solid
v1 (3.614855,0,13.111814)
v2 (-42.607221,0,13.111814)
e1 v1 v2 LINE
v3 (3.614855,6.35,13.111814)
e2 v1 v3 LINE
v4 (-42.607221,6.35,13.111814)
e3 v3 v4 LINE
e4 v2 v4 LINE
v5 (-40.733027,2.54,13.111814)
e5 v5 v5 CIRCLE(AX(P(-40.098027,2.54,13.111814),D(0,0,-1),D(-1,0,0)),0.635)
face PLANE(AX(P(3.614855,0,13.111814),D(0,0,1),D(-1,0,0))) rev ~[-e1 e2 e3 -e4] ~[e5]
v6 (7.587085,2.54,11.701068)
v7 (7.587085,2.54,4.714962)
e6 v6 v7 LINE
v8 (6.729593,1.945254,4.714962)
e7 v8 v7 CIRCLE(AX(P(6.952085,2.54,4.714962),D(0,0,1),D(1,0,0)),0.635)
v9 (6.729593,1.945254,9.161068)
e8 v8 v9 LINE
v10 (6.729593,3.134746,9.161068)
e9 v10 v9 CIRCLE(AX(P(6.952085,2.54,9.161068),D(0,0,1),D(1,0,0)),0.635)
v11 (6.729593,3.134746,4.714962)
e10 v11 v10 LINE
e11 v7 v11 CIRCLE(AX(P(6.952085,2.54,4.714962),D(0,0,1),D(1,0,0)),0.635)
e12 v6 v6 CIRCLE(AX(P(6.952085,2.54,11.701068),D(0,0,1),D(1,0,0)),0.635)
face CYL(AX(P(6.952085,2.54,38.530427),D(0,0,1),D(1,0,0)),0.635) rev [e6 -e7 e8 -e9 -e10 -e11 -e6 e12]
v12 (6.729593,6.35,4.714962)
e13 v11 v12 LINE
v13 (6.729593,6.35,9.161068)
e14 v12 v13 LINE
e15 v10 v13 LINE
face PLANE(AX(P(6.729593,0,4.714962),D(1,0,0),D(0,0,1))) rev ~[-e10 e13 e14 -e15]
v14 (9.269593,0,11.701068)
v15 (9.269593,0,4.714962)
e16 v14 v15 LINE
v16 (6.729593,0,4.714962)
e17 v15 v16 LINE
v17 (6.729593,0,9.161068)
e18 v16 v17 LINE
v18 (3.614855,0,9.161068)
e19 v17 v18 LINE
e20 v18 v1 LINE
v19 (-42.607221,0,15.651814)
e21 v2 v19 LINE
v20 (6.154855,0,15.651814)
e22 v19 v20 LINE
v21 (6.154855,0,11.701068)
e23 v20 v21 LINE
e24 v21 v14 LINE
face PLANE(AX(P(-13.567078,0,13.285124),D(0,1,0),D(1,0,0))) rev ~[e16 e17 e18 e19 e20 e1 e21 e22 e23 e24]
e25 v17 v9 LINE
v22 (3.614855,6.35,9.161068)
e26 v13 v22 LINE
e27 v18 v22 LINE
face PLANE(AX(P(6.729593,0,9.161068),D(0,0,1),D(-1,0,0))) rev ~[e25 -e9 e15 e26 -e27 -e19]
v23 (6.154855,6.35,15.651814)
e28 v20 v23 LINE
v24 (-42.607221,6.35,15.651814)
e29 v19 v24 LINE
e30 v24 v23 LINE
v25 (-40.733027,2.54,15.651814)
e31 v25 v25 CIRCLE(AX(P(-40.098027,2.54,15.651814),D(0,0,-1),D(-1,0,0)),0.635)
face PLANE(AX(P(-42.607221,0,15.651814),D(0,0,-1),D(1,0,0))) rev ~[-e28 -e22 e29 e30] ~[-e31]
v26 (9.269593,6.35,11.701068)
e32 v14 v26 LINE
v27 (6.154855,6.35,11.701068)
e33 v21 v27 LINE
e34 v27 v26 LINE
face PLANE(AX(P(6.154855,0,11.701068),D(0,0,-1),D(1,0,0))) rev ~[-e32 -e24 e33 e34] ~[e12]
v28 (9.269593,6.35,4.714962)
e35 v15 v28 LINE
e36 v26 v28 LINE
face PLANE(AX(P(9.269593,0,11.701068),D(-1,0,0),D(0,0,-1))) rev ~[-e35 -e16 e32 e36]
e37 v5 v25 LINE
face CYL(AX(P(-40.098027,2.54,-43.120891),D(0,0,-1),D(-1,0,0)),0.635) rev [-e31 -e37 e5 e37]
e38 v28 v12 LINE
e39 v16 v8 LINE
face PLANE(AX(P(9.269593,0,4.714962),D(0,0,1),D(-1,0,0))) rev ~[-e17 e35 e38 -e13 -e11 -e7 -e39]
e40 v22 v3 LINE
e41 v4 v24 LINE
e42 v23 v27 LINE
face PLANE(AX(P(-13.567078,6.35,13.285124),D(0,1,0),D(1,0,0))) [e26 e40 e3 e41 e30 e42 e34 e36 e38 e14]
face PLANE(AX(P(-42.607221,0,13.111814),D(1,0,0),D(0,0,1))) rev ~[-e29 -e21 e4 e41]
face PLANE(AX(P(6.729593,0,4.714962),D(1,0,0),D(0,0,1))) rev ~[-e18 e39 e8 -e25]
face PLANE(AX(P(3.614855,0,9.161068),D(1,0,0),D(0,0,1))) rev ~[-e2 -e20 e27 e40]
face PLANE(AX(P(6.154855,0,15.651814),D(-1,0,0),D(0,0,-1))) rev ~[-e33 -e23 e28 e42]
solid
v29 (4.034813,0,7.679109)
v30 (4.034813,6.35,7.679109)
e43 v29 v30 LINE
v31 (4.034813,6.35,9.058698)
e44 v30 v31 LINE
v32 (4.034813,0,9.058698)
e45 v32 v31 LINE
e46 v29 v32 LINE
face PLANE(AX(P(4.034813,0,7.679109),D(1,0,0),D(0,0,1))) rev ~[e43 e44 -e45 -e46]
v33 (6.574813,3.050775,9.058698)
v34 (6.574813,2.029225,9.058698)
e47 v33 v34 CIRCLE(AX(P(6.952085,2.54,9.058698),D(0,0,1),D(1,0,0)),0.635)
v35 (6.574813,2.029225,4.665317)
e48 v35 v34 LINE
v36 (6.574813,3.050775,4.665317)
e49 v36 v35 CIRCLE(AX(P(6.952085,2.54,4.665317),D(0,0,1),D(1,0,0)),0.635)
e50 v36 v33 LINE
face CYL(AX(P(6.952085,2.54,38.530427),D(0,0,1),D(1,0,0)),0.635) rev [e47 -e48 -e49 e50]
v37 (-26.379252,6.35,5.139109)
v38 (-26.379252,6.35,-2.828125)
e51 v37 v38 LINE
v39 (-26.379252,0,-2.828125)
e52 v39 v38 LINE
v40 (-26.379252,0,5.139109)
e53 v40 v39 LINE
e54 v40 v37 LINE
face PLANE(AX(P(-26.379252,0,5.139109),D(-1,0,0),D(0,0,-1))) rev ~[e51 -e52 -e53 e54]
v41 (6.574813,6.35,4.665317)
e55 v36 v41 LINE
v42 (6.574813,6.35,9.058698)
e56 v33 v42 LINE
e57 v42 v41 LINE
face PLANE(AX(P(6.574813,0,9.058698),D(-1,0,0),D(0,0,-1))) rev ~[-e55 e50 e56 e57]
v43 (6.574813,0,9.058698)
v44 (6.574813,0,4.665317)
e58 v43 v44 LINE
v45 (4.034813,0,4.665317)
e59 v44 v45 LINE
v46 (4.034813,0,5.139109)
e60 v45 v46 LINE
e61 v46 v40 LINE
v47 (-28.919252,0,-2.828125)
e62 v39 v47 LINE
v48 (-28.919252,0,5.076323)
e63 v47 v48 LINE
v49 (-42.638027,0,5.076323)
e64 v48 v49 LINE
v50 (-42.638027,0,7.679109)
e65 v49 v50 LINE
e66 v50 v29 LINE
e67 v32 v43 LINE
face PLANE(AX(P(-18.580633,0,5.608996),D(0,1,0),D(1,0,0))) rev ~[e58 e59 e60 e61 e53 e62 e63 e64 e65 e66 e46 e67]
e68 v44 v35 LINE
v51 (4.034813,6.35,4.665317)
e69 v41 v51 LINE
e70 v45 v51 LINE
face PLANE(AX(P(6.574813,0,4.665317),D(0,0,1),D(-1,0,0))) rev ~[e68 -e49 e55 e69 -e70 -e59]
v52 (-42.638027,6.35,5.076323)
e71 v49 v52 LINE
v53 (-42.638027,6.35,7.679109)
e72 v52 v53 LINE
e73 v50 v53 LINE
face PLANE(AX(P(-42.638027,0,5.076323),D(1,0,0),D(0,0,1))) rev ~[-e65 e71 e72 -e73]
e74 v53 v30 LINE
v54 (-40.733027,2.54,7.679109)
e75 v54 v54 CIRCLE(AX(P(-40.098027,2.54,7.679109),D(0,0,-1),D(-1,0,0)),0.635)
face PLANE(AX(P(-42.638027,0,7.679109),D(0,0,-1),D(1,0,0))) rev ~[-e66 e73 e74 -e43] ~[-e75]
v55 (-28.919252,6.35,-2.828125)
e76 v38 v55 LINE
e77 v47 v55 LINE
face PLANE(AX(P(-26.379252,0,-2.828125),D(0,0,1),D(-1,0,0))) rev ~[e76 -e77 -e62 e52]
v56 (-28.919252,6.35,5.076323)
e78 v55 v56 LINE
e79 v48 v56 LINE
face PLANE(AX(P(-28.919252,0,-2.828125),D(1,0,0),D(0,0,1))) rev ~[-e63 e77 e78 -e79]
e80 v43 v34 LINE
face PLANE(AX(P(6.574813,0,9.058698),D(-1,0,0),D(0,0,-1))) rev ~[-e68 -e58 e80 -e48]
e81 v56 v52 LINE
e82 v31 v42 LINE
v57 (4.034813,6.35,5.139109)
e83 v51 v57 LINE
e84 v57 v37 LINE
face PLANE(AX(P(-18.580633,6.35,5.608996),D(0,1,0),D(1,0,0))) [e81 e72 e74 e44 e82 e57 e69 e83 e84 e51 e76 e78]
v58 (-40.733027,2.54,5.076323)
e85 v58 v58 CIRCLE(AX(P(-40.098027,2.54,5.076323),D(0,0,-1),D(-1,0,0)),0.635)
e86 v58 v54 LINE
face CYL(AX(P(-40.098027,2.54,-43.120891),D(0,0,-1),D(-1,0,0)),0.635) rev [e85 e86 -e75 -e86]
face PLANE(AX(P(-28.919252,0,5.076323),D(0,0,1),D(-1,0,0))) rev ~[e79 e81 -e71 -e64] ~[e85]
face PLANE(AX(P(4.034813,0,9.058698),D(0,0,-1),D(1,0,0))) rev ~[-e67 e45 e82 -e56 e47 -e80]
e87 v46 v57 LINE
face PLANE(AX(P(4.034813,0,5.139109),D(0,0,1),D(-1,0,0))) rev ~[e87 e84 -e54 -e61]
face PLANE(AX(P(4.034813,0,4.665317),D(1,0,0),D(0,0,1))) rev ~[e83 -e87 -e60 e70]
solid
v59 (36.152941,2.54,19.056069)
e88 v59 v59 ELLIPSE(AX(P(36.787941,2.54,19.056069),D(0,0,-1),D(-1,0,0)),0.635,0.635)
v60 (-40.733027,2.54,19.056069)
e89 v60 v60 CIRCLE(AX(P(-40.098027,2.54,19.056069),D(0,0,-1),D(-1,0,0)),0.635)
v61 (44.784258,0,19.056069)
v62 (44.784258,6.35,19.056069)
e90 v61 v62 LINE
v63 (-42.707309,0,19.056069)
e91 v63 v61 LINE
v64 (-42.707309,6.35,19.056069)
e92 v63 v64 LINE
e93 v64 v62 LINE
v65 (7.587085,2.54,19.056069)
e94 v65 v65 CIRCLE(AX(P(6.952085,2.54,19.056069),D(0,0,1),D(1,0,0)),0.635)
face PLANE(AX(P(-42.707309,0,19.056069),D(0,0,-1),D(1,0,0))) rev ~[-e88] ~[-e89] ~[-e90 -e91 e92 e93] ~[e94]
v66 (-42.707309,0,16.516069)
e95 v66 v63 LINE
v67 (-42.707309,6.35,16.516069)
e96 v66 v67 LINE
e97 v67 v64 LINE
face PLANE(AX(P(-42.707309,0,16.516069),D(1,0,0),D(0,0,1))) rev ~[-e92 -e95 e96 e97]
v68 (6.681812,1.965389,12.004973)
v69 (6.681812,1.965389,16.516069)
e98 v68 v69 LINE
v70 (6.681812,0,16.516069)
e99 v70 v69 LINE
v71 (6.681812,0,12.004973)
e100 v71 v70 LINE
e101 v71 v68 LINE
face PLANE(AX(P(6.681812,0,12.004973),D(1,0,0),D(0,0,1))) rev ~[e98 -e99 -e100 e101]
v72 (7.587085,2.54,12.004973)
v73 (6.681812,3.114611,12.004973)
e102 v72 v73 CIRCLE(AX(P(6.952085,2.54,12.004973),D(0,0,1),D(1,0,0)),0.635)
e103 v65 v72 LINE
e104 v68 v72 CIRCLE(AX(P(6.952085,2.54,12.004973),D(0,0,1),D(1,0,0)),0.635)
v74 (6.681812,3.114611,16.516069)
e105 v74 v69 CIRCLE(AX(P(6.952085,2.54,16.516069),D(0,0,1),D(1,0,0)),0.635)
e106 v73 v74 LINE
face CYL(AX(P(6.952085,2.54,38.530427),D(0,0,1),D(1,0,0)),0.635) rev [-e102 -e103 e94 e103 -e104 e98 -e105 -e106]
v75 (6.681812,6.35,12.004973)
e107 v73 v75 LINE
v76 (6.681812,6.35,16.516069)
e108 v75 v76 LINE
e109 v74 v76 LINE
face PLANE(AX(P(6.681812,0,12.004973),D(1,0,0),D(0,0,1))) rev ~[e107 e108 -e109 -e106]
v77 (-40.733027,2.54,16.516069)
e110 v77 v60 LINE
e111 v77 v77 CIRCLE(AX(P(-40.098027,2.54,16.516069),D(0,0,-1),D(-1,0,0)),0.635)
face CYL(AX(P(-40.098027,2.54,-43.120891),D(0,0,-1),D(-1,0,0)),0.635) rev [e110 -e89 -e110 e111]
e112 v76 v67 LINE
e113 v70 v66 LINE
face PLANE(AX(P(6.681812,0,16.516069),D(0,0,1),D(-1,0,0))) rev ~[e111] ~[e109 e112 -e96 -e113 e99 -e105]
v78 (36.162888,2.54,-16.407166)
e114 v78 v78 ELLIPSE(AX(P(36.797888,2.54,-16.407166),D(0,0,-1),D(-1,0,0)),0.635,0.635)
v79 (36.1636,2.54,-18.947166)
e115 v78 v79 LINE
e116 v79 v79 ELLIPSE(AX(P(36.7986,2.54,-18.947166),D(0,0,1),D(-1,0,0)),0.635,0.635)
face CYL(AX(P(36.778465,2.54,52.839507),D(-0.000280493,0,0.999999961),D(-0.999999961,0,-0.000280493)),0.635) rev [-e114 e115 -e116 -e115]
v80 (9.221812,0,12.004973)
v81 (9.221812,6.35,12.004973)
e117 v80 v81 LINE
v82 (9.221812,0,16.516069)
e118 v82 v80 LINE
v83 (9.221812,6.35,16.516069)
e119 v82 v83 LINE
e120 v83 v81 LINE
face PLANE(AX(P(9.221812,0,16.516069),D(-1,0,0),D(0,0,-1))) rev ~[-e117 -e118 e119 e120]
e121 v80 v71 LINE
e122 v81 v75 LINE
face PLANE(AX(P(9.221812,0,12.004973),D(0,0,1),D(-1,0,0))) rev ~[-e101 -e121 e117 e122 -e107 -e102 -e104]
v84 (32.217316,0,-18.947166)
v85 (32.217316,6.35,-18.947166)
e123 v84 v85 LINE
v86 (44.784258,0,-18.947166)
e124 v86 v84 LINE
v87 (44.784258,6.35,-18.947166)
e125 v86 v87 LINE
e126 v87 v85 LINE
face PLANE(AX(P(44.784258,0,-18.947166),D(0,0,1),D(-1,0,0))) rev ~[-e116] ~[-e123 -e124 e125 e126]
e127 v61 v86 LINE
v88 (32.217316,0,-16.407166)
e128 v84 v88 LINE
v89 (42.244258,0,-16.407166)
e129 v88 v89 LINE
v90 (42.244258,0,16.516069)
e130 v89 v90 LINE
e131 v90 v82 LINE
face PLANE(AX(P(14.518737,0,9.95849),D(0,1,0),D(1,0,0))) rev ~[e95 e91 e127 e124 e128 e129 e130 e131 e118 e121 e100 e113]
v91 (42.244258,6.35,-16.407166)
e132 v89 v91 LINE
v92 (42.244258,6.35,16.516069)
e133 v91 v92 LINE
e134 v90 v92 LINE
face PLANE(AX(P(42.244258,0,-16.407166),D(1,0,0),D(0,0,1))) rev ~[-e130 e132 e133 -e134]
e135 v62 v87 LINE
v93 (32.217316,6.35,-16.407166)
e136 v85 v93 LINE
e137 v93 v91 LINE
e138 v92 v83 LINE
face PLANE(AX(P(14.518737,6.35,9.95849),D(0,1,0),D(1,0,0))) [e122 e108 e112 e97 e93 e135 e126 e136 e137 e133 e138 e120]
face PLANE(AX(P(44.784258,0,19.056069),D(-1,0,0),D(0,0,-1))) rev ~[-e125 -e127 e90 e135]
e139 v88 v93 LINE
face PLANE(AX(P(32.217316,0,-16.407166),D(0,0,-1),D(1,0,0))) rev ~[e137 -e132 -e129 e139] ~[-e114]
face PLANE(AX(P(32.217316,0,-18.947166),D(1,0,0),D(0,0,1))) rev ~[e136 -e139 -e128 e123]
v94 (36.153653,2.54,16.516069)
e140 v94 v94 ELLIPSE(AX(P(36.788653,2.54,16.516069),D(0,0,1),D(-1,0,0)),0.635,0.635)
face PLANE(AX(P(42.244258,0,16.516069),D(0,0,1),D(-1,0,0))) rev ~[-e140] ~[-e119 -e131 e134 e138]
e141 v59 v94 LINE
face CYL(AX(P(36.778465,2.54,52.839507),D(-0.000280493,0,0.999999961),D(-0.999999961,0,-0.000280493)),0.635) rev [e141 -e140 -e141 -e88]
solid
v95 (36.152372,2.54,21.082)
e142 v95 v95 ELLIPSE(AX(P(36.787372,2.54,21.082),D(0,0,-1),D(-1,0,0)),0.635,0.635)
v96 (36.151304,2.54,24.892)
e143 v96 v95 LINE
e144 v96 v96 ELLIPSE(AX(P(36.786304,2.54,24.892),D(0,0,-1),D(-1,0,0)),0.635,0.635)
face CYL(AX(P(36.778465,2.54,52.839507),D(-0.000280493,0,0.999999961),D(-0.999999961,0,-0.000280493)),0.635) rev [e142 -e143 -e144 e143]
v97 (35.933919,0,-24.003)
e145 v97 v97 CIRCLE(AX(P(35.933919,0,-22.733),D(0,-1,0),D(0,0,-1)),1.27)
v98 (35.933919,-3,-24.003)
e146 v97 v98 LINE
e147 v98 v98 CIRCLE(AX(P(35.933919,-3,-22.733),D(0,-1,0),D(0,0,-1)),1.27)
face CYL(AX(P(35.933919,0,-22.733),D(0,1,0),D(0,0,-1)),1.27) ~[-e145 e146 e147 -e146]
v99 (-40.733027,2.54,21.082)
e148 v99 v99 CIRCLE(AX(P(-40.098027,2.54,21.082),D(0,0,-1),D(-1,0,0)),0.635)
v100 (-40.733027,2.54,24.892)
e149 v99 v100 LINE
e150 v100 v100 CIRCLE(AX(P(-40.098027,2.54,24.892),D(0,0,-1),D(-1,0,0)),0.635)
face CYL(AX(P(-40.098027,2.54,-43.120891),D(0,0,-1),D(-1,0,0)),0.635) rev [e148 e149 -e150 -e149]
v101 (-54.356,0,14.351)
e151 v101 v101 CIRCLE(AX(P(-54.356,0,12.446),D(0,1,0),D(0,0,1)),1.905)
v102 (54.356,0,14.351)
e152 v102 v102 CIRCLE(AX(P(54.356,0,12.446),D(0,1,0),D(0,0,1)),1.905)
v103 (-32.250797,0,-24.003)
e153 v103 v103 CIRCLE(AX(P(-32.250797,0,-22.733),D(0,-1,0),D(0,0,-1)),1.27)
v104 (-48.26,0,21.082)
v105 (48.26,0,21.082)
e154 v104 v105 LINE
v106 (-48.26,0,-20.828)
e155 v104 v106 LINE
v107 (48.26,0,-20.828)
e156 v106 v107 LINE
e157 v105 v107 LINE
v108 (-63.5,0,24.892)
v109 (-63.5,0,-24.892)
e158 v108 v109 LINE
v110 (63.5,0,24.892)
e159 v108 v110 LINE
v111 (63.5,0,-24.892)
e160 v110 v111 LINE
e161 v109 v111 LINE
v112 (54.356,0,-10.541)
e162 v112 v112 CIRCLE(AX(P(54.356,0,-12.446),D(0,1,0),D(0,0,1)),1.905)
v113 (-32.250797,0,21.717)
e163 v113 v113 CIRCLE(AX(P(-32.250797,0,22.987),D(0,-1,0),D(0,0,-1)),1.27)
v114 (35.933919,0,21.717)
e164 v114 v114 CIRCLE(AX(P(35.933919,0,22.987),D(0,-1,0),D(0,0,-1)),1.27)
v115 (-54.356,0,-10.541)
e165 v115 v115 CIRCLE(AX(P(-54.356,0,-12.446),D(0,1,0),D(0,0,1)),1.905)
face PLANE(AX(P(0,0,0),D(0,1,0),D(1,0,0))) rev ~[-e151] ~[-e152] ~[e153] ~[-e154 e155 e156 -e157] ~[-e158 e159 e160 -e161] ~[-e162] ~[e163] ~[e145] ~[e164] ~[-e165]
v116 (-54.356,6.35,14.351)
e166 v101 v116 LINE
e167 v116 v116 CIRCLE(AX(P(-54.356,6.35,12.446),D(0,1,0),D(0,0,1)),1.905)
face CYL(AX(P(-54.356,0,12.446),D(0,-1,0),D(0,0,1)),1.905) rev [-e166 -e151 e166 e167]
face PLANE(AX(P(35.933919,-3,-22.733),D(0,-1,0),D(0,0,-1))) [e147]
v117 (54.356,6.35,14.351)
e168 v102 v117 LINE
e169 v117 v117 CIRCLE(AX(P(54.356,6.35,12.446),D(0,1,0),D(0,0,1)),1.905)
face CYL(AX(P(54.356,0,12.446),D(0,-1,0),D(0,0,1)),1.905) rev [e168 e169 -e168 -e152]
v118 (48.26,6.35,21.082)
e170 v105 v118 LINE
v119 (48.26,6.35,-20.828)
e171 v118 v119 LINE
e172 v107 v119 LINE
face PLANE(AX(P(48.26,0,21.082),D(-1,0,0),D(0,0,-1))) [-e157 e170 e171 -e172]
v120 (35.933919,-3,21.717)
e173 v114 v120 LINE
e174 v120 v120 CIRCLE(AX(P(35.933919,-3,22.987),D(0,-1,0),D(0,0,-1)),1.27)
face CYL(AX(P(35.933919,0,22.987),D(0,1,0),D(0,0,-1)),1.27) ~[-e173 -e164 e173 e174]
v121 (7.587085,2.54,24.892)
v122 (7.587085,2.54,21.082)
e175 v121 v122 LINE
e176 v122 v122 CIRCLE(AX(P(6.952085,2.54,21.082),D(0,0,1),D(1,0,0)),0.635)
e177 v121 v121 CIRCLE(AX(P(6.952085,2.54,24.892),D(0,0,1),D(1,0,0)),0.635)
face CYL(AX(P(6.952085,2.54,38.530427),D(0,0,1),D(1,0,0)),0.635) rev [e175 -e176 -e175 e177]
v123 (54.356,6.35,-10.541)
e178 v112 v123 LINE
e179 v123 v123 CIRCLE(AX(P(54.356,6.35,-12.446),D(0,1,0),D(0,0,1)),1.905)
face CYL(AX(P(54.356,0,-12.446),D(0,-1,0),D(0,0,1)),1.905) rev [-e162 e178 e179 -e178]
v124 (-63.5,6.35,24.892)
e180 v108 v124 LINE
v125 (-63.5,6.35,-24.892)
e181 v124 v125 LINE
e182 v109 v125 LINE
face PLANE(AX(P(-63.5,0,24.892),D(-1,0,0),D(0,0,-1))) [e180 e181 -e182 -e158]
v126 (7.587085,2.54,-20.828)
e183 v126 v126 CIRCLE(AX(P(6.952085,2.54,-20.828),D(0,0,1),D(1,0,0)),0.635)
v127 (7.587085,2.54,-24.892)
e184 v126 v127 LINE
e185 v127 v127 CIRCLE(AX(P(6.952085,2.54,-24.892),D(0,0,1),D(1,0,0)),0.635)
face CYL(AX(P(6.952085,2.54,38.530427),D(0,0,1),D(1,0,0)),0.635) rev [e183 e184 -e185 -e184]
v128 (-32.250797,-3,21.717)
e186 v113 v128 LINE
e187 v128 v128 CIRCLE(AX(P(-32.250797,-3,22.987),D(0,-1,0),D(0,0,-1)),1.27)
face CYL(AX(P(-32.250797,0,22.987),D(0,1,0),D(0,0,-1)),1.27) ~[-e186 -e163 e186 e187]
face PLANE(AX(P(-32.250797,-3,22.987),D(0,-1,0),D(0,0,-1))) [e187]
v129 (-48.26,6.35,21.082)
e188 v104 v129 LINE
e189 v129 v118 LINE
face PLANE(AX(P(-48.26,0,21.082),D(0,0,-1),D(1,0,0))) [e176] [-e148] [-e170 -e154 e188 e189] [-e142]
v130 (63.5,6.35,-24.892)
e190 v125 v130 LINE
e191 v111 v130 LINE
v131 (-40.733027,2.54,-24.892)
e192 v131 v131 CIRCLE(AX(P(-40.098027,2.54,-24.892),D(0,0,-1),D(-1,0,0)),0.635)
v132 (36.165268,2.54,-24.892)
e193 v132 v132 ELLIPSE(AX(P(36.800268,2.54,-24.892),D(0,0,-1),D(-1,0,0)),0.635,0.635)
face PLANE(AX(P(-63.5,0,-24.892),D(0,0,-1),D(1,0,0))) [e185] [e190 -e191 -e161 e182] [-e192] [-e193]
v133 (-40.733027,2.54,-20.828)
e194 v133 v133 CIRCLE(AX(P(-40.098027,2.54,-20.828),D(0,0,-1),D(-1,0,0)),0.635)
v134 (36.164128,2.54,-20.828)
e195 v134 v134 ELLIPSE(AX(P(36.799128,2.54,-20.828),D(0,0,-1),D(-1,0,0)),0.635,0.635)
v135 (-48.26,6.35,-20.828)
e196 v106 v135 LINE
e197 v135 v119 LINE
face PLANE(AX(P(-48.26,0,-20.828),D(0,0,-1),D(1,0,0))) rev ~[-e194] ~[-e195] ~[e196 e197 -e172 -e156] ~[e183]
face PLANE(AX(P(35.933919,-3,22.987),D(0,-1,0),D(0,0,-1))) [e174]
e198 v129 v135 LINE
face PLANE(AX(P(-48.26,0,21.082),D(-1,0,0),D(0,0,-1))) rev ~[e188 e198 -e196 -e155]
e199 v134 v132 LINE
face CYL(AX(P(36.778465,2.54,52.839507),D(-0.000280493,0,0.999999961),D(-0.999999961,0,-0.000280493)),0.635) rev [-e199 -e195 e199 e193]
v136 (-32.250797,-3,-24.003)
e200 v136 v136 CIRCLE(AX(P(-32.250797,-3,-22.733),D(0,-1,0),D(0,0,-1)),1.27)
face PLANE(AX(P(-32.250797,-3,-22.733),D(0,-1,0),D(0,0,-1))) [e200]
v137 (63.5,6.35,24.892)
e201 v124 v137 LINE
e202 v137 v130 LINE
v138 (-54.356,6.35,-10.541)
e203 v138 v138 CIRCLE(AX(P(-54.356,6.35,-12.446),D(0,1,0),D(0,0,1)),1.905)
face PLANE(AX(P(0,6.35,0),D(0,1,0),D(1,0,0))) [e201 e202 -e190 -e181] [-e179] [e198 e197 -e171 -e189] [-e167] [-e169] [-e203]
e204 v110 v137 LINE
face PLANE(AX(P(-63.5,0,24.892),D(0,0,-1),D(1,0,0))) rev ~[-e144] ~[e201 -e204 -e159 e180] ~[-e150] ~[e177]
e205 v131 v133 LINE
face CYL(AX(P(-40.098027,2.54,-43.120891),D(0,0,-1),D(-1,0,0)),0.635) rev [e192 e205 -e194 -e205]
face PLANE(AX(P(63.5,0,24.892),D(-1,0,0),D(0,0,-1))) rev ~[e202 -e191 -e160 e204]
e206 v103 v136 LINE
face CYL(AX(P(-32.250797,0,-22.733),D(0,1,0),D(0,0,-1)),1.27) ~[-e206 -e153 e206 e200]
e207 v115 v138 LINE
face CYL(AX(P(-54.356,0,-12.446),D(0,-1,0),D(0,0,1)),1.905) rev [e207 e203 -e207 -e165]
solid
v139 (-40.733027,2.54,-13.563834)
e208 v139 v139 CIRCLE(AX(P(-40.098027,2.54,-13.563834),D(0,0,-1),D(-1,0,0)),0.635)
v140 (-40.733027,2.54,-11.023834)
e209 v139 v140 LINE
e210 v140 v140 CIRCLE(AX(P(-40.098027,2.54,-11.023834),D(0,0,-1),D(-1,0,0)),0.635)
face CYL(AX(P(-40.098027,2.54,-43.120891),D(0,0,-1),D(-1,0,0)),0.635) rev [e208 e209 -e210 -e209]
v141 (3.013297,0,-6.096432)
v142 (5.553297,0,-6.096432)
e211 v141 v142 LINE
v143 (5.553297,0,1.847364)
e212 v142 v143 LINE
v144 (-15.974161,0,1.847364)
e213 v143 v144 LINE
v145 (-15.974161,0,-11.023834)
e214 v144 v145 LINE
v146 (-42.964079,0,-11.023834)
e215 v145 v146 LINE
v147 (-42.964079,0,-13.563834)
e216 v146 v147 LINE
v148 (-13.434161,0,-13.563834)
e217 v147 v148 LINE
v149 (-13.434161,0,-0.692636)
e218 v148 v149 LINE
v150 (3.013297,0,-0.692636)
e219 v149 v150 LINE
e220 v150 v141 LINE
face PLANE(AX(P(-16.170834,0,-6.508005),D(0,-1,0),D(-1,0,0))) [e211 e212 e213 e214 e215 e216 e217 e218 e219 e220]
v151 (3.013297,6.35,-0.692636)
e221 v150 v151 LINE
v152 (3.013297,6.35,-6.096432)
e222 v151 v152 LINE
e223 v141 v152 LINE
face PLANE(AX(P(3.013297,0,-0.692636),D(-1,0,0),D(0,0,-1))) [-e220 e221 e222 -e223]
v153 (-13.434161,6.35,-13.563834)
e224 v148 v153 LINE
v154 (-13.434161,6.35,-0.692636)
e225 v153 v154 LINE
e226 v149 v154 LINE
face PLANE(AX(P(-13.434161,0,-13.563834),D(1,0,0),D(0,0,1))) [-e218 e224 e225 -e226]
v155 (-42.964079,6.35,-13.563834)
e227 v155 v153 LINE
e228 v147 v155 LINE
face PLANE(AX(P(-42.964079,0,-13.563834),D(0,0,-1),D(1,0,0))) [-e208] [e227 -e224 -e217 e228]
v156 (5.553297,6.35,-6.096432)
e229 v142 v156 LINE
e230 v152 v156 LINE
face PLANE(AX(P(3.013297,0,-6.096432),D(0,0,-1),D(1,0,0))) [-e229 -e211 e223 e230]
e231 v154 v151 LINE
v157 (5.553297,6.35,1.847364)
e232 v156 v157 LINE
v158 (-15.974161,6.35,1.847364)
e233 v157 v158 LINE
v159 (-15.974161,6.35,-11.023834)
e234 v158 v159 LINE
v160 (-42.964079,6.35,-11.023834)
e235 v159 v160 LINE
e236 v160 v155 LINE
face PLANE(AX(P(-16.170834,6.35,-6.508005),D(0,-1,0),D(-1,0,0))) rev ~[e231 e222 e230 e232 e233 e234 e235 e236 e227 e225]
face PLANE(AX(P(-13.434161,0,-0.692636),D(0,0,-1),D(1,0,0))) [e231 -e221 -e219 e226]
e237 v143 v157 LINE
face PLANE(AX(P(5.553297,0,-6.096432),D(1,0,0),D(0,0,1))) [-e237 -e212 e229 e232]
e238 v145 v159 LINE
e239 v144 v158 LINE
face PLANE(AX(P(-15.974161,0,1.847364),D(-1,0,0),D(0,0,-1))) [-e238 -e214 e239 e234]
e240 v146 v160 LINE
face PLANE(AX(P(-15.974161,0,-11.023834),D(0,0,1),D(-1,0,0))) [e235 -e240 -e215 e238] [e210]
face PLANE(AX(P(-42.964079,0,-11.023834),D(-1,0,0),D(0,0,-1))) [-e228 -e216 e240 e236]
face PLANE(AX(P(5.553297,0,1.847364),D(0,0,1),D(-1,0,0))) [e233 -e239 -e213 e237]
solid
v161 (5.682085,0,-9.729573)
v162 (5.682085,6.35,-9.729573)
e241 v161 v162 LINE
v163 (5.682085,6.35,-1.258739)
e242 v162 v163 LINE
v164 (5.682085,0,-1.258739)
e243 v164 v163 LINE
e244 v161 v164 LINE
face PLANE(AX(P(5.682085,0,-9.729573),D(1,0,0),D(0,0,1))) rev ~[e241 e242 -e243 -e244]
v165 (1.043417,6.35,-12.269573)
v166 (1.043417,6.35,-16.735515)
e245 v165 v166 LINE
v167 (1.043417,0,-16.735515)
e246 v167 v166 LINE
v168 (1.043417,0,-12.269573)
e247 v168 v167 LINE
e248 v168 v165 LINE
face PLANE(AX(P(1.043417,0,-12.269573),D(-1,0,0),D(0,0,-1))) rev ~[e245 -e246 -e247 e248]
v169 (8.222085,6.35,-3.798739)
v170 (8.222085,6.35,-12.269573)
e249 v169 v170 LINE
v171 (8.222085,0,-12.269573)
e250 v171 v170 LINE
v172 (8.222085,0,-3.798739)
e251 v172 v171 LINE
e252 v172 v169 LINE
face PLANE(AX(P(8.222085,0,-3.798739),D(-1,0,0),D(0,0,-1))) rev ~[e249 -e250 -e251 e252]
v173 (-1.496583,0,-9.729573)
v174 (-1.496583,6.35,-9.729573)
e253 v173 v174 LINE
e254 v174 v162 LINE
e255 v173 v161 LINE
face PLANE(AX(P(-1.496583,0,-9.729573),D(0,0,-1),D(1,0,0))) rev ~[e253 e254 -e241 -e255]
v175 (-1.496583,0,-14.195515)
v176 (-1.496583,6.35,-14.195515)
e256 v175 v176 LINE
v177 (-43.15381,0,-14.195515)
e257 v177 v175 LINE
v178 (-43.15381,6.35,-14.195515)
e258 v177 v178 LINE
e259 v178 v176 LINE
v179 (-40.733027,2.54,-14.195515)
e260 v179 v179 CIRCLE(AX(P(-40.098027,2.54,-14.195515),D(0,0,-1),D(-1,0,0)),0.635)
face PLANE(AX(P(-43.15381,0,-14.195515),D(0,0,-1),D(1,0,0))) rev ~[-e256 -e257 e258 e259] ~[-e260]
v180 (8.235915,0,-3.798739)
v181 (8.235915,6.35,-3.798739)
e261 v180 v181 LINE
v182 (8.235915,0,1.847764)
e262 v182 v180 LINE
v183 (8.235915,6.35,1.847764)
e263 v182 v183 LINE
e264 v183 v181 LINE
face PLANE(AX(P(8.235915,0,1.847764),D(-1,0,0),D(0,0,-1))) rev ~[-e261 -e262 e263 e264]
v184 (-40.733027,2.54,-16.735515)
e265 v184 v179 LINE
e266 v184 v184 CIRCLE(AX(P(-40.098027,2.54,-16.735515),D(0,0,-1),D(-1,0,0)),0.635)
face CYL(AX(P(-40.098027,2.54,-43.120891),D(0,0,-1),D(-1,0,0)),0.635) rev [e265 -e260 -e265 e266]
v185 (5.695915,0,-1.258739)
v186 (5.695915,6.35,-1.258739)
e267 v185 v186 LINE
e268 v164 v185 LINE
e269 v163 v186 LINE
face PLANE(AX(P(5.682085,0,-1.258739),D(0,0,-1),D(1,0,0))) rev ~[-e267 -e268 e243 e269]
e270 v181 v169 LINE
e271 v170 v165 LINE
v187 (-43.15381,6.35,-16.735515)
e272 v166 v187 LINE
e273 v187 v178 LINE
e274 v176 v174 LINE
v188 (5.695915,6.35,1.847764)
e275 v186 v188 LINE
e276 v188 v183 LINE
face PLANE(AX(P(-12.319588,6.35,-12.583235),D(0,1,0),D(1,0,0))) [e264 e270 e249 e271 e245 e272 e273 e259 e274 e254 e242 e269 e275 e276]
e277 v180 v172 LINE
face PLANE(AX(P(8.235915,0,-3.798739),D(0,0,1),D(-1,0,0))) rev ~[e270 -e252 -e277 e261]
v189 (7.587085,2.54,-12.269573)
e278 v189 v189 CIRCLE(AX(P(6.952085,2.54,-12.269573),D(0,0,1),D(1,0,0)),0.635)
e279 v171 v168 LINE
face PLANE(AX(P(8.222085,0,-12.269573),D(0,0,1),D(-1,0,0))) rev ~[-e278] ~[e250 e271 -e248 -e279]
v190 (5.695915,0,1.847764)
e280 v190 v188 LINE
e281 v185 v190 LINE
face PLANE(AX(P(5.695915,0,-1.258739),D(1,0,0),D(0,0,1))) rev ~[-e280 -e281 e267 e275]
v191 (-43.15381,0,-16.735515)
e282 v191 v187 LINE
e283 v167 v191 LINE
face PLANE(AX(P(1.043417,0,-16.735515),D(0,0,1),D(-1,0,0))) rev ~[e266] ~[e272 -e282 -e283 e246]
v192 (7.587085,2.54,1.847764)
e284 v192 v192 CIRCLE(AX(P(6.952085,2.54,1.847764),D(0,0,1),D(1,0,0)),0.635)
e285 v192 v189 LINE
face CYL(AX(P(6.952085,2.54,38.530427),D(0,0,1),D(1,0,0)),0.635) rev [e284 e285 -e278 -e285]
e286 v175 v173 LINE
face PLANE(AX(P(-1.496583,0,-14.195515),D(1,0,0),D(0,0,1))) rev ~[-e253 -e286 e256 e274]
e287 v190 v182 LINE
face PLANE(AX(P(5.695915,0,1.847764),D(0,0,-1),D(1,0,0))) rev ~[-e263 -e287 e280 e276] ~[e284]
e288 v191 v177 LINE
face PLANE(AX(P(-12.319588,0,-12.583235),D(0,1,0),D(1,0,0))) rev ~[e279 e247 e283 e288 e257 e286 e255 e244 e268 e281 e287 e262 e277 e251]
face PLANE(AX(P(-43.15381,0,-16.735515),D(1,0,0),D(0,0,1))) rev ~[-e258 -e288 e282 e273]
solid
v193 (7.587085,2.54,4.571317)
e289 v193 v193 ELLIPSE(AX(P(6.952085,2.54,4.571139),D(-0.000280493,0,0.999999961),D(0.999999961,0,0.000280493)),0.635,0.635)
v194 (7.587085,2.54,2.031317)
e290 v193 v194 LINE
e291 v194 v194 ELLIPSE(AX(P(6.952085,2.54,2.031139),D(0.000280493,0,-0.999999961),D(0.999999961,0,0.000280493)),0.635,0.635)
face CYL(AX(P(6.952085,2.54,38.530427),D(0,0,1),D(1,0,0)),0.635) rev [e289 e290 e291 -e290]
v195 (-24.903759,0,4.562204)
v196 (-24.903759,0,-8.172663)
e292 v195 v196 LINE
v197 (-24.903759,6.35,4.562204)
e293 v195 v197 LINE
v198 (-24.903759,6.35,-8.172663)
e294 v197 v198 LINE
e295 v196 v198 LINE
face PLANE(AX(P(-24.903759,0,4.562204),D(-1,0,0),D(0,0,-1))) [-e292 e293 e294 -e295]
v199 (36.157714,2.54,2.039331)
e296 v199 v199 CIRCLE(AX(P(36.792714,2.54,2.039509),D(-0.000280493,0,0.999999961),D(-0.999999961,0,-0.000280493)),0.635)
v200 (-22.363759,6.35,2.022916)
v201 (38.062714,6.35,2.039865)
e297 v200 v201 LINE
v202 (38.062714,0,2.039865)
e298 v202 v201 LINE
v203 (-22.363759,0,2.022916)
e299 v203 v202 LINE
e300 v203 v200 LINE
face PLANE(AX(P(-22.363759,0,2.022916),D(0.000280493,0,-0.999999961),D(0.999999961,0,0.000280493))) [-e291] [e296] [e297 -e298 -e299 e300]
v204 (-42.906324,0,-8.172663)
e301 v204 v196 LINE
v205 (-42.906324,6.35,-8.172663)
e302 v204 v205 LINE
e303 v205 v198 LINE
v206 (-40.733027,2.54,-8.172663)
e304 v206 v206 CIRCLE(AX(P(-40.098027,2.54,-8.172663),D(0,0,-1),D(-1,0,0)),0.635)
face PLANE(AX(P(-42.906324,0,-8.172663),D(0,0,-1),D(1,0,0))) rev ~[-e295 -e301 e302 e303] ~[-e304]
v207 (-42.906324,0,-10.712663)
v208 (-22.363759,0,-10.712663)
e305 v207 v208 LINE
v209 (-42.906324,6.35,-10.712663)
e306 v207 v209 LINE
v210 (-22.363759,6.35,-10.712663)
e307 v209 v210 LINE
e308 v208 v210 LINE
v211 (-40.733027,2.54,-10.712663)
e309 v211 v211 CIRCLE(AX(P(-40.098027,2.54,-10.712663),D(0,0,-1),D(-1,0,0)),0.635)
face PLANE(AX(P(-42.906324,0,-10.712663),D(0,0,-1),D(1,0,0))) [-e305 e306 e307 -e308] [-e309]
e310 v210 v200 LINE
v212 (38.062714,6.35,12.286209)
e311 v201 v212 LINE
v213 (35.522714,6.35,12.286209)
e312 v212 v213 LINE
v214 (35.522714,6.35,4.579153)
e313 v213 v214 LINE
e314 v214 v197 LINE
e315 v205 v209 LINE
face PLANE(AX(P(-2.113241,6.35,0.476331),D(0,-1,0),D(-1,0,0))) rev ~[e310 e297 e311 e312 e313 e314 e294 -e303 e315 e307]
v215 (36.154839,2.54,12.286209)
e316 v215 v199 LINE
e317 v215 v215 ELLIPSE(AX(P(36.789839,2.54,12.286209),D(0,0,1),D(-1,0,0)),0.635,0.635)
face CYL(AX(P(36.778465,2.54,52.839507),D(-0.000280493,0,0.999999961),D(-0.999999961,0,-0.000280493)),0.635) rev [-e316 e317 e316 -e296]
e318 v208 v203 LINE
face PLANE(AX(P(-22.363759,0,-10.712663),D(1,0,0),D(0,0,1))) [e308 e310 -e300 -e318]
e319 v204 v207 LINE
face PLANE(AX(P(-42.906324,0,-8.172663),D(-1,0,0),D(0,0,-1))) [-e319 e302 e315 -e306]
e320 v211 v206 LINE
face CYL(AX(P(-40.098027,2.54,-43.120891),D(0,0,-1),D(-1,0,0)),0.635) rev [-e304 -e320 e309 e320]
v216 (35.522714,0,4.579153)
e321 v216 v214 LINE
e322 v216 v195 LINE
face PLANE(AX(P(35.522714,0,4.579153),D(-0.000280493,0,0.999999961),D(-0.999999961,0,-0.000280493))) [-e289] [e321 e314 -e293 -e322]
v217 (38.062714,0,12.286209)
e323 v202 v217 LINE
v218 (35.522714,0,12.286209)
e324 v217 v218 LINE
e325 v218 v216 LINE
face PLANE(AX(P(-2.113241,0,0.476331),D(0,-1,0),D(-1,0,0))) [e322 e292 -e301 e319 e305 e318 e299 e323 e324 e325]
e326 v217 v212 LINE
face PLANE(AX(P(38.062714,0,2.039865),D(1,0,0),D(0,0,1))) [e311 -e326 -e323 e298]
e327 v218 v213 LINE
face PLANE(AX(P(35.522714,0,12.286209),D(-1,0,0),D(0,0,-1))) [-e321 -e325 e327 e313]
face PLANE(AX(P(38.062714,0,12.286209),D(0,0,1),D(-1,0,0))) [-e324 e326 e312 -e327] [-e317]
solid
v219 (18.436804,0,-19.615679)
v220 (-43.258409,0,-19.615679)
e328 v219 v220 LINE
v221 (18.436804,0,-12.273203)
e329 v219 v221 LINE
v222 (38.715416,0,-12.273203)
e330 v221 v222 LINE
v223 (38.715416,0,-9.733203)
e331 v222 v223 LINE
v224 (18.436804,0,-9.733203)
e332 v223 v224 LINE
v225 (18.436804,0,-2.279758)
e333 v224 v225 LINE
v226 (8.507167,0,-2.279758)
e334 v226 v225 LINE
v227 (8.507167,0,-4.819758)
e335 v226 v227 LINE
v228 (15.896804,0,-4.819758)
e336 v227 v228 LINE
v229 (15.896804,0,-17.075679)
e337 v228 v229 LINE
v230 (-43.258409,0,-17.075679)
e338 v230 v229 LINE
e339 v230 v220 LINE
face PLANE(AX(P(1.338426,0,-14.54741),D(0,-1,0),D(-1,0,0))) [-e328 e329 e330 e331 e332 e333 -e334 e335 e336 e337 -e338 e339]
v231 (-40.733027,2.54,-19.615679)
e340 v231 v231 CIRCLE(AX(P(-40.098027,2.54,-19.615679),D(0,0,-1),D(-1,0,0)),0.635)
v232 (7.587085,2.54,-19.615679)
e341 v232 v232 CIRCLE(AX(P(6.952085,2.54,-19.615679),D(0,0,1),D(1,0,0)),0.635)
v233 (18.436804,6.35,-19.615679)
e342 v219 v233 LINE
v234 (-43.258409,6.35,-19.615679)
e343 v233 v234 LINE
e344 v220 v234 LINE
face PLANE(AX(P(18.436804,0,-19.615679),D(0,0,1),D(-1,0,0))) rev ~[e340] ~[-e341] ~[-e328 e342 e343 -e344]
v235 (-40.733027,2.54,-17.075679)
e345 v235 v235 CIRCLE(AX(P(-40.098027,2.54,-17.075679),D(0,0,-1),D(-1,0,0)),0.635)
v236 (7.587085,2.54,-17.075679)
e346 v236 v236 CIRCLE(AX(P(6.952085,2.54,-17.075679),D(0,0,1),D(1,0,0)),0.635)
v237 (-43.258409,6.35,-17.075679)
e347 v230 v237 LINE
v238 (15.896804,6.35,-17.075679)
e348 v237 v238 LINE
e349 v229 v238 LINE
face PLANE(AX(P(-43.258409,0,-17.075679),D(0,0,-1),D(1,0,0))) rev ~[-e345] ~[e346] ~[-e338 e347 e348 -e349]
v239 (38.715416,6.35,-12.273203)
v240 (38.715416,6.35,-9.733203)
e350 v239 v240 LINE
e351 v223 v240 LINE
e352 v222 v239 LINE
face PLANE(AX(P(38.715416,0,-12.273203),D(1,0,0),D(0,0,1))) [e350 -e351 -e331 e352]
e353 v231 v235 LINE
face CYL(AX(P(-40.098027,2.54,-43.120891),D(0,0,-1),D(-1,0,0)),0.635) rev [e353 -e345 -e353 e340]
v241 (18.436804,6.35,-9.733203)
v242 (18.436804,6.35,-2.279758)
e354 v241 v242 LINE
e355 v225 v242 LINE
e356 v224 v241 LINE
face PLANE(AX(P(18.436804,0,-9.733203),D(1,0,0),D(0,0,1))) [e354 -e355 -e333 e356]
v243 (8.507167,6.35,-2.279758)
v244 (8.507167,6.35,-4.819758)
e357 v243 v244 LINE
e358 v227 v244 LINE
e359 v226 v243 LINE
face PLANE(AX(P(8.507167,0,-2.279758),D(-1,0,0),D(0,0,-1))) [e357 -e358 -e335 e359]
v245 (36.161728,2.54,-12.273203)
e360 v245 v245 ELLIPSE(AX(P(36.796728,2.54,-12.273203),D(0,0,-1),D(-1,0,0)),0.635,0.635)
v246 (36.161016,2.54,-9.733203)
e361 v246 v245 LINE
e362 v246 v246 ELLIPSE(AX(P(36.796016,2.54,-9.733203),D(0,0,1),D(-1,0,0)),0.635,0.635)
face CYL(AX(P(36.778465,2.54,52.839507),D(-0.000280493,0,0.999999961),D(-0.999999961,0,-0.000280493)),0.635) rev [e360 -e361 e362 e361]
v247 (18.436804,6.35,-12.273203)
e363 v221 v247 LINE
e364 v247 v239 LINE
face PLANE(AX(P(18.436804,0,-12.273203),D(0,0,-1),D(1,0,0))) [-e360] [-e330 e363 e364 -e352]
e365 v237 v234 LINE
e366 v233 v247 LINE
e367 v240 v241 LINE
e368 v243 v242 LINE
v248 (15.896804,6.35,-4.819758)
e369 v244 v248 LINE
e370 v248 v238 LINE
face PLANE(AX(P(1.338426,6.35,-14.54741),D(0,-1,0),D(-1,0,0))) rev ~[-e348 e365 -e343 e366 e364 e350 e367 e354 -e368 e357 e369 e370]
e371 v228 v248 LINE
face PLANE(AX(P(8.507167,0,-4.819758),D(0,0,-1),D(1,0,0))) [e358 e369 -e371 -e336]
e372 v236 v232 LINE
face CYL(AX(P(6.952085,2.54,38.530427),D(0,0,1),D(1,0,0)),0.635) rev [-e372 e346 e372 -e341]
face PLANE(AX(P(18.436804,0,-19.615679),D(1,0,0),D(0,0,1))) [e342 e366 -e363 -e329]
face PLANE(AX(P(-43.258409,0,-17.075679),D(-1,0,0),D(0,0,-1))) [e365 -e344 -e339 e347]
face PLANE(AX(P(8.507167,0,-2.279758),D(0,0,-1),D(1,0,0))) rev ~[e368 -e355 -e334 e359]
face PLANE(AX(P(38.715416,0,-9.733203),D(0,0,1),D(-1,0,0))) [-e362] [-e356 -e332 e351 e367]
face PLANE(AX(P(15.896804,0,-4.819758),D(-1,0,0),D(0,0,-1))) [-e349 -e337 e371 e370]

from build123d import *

# Parameters (mm, degrees)
SKETCH2_W               = 127
SKETCH2_H               = 49.784
SKETCH2_R               = 1.905
BOSS_EXTRUDE1_DEPTH     = 6.35
SKETCH6_W               = 96.52
SKETCH6_H               = 41.91
CUT_EXTRUDE4_DEPTH      = 6.35
BOSS_EXTRUDE2_DEPTH     = 6.35
BOSS_EXTRUDE2_2_DEPTH   = 6.35
BOSS_EXTRUDE2_3_DEPTH   = 6.35
BOSS_EXTRUDE2_4_DEPTH   = 6.35
BOSS_EXTRUDE2_5_DEPTH   = 6.35
BOSS_EXTRUDE2_6_DEPTH   = 6.35
BOSS_EXTRUDE2_7_DEPTH   = 6.35
CUT_EXTRUDE5_DEPTH      = 25.4
CUT_EXTRUDE5_DEPTH_BACK = 50.8
SKETCH15_R              = 0.635
CUT_EXTRUDE6_DEPTH      = 50.8
CUT_EXTRUDE6_DEPTH_BACK = 50.8
SKETCH16_R              = 0.635
CUT_EXTRUDE7_DEPTH      = 50.8
CUT_EXTRUDE7_DEPTH_BACK = 50.8
SKETCH17_R              = 0.635
SKETCH18_R              = 1.27
BOSS_EXTRUDE3_DEPTH     = 3


with BuildPart() as part:
    # Sketch2 → Boss-Extrude1 (new body)
    with BuildSketch(Plane(origin=(0, 0, 0), x_dir=(1, 0, 0), z_dir=(0, 1, 0))):
        Rectangle(SKETCH2_W, SKETCH2_H)
        with Locations(Location((-54.356, 12.446, 0), (0, 0, 270))):
            Circle(SKETCH2_R, mode=Mode.SUBTRACT)
        with Locations(Location((-54.356, -12.446, 0), (0, 0, 270))):
            Circle(SKETCH2_R, mode=Mode.SUBTRACT)
        with Locations(Location((54.356, -12.446, 0), (0, 0, 270))):
            Circle(SKETCH2_R, mode=Mode.SUBTRACT)
        with Locations(Location((54.356, 12.446, 0), (0, 0, 270))):
            Circle(SKETCH2_R, mode=Mode.SUBTRACT)
    extrude(amount=BOSS_EXTRUDE1_DEPTH)

    # Sketch6 → Cut-Extrude4 (cut)
    with BuildSketch(Plane(origin=(0, 0, 0), x_dir=(1, 0, 0), z_dir=(0, 1, 0))):
        with Locations((0, -0.127)):
            Rectangle(SKETCH6_W, SKETCH6_H)
    extrude(amount=CUT_EXTRUDE4_DEPTH, mode=Mode.SUBTRACT)


with BuildPart() as body_2:
    # Sketch3 → Boss-Extrude2 (new body)
    with BuildSketch(Plane(origin=(0, 0, 0), x_dir=(1, 0, 0), z_dir=(0, 1, 0))):
        Polygon((6.154854934, -15.651814381), (6.154854934, -11.701067552), (9.269592965, -11.701067552), (9.269592965, -4.714961554), (6.729592965, -4.714961554), (6.729592965, -9.161067552), (3.614854934, -9.161067552), (3.614854934, -13.111814381), (-42.607221298, -13.111814381), (-42.607221298, -15.651814381), align=None)
    extrude(amount=BOSS_EXTRUDE2_DEPTH)


with BuildPart() as body_3:
    # Sketch3 → Boss-Extrude2 2 (new body)
    with BuildSketch(Plane(origin=(0, 0, 0), x_dir=(1, 0, 0), z_dir=(0, 1, 0))):
        Polygon((6.681811508, -19.056068665), (44.784257715, -19.056068665), (44.784257715, 18.947165967), (32.217316, 18.947165967), (32.217316, 16.407165967), (42.244257715, 16.407165967), (42.244257715, -16.516068665), (9.221811508, -16.516068665), (9.221811508, -12.004972739), (6.681811508, -12.004972739), (6.681811508, -16.516068665), (-42.707308803, -16.516068665), (-42.707308803, -19.056068665), align=None)
    extrude(amount=BOSS_EXTRUDE2_2_DEPTH)


with BuildPart() as body_4:
    # Sketch3 → Boss-Extrude2 3 (new body)
    with BuildSketch(Plane(origin=(0, 0, 0), x_dir=(1, 0, 0), z_dir=(0, 1, 0))):
        Polygon((4.034812993, -9.058698302), (6.574812993, -9.058698302), (6.574812993, -4.665316578), (4.034812993, -4.665316578), (4.034812993, -5.139108905), (-26.379252172, -5.139108905), (-26.379252172, -2.011098606), (-26.379252172, 2.82812497), (-28.919252172, 2.82812497), (-28.919252172, -5.076322676), (-42.638026623, -5.076322676), (-42.638026623, -7.679108905), (4.034812993, -7.679108905), align=None)
    extrude(amount=BOSS_EXTRUDE2_3_DEPTH)


with BuildPart() as body_5:
    # Sketch3 → Boss-Extrude2 4 (new body)
    with BuildSketch(Plane(origin=(0, 0, 0), x_dir=(1, 0, 0), z_dir=(0, 1, 0))):
        Polygon((38.062713566, -12.286208758), (35.522713566, -12.286208758), (35.522713566, -4.579152905), (-24.903759225, -4.562203694), (-24.903759225, 8.172663229), (-37.854300977, 8.172663229), (-42.906324163, 8.172663229), (-42.906324163, 10.712663229), (-22.363759225, 10.712663229), (-22.363759225, -2.022916046), (38.062713566, -2.039865257), align=None)
    extrude(amount=BOSS_EXTRUDE2_4_DEPTH)


with BuildPart() as body_6:
    # Sketch3 → Boss-Extrude2 5 (new body)
    with BuildSketch(Plane(origin=(0, 0, 0), x_dir=(1, 0, 0), z_dir=(0, 1, 0))):
        Polygon((-42.964078943, 11.023833678), (-42.964078943, 13.563833678), (-13.434161448, 13.563833678), (-13.434161448, 0.692636058), (3.013297456, 0.692636058), (3.013297456, 6.096432161), (5.553297456, 6.096432161), (5.553297456, -1.847363942), (-15.974161448, -1.847363942), (-15.974161448, 11.023833678), align=None)
    extrude(amount=BOSS_EXTRUDE2_5_DEPTH)


with BuildPart() as body_7:
    # Sketch3 → Boss-Extrude2 6 (new body)
    with BuildSketch(Plane(origin=(0, 0, 0), x_dir=(1, 0, 0), z_dir=(0, 1, 0))):
        Polygon((15.896804082, 2.279758279), (8.50716707, 2.279758279), (8.50716707, 4.819758279), (15.896804082, 4.819758279), (15.896804082, 17.075678804), (-4.989775823, 17.075678804), (-43.258408751, 17.075678804), (-43.258408751, 19.615678804), (2.402153274, 19.615678804), (18.436804082, 19.615678804), (18.436804082, 12.273203088), (38.715415512, 12.273203088), (38.715415512, 9.733203088), (18.436804082, 9.733203088), (18.436804082, 2.279758279), align=None)
    extrude(amount=BOSS_EXTRUDE2_6_DEPTH)


with BuildPart() as body_8:
    # Sketch3 → Boss-Extrude2 7 (new body)
    with BuildSketch(Plane(origin=(0, 0, 0), x_dir=(1, 0, 0), z_dir=(0, 1, 0))):
        Polygon((-43.153809952, 16.735514713), (-43.153809952, 14.195514713), (-11.01999016, 14.195514713), (-1.496582765, 14.195514713), (-1.496582765, 9.729573122), (5.682084936, 9.729573122), (5.682084936, 1.258739409), (5.695914501, 1.258739409), (5.695914501, -1.847763753), (8.235914501, -1.847763753), (8.235914501, 3.798739409), (8.222084936, 3.798739409), (8.222084936, 12.269573122), (1.043417235, 12.269573122), (1.043417235, 16.735514713), align=None)
    extrude(amount=BOSS_EXTRUDE2_7_DEPTH)


with BuildPart() as cut_extrude5_tool:
    # Sketch15 → Cut-Extrude5 (new, two sides: drawn at the far end of the back side and taken through both)
    with BuildSketch(Plane.XY.offset(7.679108905).offset(-CUT_EXTRUDE5_DEPTH_BACK)):
        with Locations(Location((-40.098026623, 2.54, 0), (0, 0, 180))):
            Circle(SKETCH15_R)
    extrude(amount=CUT_EXTRUDE5_DEPTH + CUT_EXTRUDE5_DEPTH_BACK)


with BuildPart() as part_1:
    add(part.part)

    # Cut-Extrude5: cut by cut_extrude5_tool
    add(cut_extrude5_tool.part, mode=Mode.SUBTRACT)


with BuildPart() as body_2_1:
    add(body_2.part)

    # Cut-Extrude5: cut by cut_extrude5_tool
    add(cut_extrude5_tool.part, mode=Mode.SUBTRACT)


with BuildPart() as body_3_1:
    add(body_3.part)

    # Cut-Extrude5: cut by cut_extrude5_tool
    add(cut_extrude5_tool.part, mode=Mode.SUBTRACT)


with BuildPart() as body_4_1:
    add(body_4.part)

    # Cut-Extrude5: cut by cut_extrude5_tool
    add(cut_extrude5_tool.part, mode=Mode.SUBTRACT)


with BuildPart() as body_5_1:
    add(body_5.part)

    # Cut-Extrude5: cut by cut_extrude5_tool
    add(cut_extrude5_tool.part, mode=Mode.SUBTRACT)


with BuildPart() as body_6_1:
    add(body_6.part)

    # Cut-Extrude5: cut by cut_extrude5_tool
    add(cut_extrude5_tool.part, mode=Mode.SUBTRACT)


with BuildPart() as body_7_1:
    add(body_7.part)

    # Cut-Extrude5: cut by cut_extrude5_tool
    add(cut_extrude5_tool.part, mode=Mode.SUBTRACT)


with BuildPart() as body_8_1:
    add(body_8.part)

    # Cut-Extrude5: cut by cut_extrude5_tool
    add(cut_extrude5_tool.part, mode=Mode.SUBTRACT)


with BuildPart() as cut_extrude6_tool:
    # Sketch16 → Cut-Extrude6 (new, two sides: drawn at the far end of the back side and taken through both)
    with BuildSketch(Plane(origin=(0, 0, -12.269573122), x_dir=(-1, 0, 0), z_dir=(0, 0, -1)).offset(-CUT_EXTRUDE6_DEPTH_BACK)):
        with Locations(Location((-6.952084936, 2.54, 0), (0, 0, 180))):
            Circle(SKETCH16_R)
    extrude(amount=CUT_EXTRUDE6_DEPTH + CUT_EXTRUDE6_DEPTH_BACK)


with BuildPart() as part_2:
    add(part_1.part)

    # Cut-Extrude6: cut by cut_extrude6_tool
    add(cut_extrude6_tool.part, mode=Mode.SUBTRACT)


with BuildPart() as body_2_2:
    add(body_2_1.part)

    # Cut-Extrude6: cut by cut_extrude6_tool
    add(cut_extrude6_tool.part, mode=Mode.SUBTRACT)


with BuildPart() as body_3_2:
    add(body_3_1.part)

    # Cut-Extrude6: cut by cut_extrude6_tool
    add(cut_extrude6_tool.part, mode=Mode.SUBTRACT)


with BuildPart() as body_4_2:
    add(body_4_1.part)

    # Cut-Extrude6: cut by cut_extrude6_tool
    add(cut_extrude6_tool.part, mode=Mode.SUBTRACT)


with BuildPart() as body_5_2:
    add(body_5_1.part)

    # Cut-Extrude6: cut by cut_extrude6_tool
    add(cut_extrude6_tool.part, mode=Mode.SUBTRACT)


with BuildPart() as body_7_2:
    add(body_7_1.part)

    # Cut-Extrude6: cut by cut_extrude6_tool
    add(cut_extrude6_tool.part, mode=Mode.SUBTRACT)


with BuildPart() as body_8_2:
    add(body_8_1.part)

    # Cut-Extrude6: cut by cut_extrude6_tool
    add(cut_extrude6_tool.part, mode=Mode.SUBTRACT)


with BuildPart() as cut_extrude7_tool:
    # Sketch17 → Cut-Extrude7 (new, two sides: drawn at the far end of the back side and taken through both)
    with BuildSketch(Plane(origin=(-0.000569174, 0, 2.029188768), x_dir=(-0.9999999606618017, 0, -0.0002804931282683121), z_dir=(0.00028049312826831214, 0, -0.9999999606618017)).offset(-CUT_EXTRUDE7_DEPTH_BACK)):
        with Locations((-36.793284237, 2.54)):
            Circle(SKETCH17_R)
    extrude(amount=CUT_EXTRUDE7_DEPTH + CUT_EXTRUDE7_DEPTH_BACK)


with BuildPart() as part_3:
    add(part_2.part)

    # Cut-Extrude7: cut by cut_extrude7_tool
    add(cut_extrude7_tool.part, mode=Mode.SUBTRACT)

    # Sketch18 → Boss-Extrude3 (add)
    with BuildSketch(Plane.XZ):
        with Locations(Location((-32.250797371, 22.987, 0), (0, 0, 270))):
            Circle(SKETCH18_R)
        with Locations(Location((35.933918828, 22.987, 0), (0, 0, 270))):
            Circle(SKETCH18_R)
        with Locations(Location((-32.250797371, -22.733, 0), (0, 0, 270))):
            Circle(SKETCH18_R)
        with Locations(Location((35.933918828, -22.733, 0), (0, 0, 270))):
            Circle(SKETCH18_R)
    extrude(amount=BOSS_EXTRUDE3_DEPTH)


with BuildPart() as body_3_3:
    add(body_3_2.part)

    # Cut-Extrude7: cut by cut_extrude7_tool
    add(cut_extrude7_tool.part, mode=Mode.SUBTRACT)


with BuildPart() as body_5_3:
    add(body_5_2.part)

    # Cut-Extrude7: cut by cut_extrude7_tool
    add(cut_extrude7_tool.part, mode=Mode.SUBTRACT)


with BuildPart() as body_7_3:
    add(body_7_2.part)

    # Cut-Extrude7: cut by cut_extrude7_tool
    add(cut_extrude7_tool.part, mode=Mode.SUBTRACT)


solid = Compound([body_6_1.part, body_2_2.part, body_4_2.part, body_8_2.part, part_3.part, body_3_3.part, body_5_3.part, body_7_3.part])
